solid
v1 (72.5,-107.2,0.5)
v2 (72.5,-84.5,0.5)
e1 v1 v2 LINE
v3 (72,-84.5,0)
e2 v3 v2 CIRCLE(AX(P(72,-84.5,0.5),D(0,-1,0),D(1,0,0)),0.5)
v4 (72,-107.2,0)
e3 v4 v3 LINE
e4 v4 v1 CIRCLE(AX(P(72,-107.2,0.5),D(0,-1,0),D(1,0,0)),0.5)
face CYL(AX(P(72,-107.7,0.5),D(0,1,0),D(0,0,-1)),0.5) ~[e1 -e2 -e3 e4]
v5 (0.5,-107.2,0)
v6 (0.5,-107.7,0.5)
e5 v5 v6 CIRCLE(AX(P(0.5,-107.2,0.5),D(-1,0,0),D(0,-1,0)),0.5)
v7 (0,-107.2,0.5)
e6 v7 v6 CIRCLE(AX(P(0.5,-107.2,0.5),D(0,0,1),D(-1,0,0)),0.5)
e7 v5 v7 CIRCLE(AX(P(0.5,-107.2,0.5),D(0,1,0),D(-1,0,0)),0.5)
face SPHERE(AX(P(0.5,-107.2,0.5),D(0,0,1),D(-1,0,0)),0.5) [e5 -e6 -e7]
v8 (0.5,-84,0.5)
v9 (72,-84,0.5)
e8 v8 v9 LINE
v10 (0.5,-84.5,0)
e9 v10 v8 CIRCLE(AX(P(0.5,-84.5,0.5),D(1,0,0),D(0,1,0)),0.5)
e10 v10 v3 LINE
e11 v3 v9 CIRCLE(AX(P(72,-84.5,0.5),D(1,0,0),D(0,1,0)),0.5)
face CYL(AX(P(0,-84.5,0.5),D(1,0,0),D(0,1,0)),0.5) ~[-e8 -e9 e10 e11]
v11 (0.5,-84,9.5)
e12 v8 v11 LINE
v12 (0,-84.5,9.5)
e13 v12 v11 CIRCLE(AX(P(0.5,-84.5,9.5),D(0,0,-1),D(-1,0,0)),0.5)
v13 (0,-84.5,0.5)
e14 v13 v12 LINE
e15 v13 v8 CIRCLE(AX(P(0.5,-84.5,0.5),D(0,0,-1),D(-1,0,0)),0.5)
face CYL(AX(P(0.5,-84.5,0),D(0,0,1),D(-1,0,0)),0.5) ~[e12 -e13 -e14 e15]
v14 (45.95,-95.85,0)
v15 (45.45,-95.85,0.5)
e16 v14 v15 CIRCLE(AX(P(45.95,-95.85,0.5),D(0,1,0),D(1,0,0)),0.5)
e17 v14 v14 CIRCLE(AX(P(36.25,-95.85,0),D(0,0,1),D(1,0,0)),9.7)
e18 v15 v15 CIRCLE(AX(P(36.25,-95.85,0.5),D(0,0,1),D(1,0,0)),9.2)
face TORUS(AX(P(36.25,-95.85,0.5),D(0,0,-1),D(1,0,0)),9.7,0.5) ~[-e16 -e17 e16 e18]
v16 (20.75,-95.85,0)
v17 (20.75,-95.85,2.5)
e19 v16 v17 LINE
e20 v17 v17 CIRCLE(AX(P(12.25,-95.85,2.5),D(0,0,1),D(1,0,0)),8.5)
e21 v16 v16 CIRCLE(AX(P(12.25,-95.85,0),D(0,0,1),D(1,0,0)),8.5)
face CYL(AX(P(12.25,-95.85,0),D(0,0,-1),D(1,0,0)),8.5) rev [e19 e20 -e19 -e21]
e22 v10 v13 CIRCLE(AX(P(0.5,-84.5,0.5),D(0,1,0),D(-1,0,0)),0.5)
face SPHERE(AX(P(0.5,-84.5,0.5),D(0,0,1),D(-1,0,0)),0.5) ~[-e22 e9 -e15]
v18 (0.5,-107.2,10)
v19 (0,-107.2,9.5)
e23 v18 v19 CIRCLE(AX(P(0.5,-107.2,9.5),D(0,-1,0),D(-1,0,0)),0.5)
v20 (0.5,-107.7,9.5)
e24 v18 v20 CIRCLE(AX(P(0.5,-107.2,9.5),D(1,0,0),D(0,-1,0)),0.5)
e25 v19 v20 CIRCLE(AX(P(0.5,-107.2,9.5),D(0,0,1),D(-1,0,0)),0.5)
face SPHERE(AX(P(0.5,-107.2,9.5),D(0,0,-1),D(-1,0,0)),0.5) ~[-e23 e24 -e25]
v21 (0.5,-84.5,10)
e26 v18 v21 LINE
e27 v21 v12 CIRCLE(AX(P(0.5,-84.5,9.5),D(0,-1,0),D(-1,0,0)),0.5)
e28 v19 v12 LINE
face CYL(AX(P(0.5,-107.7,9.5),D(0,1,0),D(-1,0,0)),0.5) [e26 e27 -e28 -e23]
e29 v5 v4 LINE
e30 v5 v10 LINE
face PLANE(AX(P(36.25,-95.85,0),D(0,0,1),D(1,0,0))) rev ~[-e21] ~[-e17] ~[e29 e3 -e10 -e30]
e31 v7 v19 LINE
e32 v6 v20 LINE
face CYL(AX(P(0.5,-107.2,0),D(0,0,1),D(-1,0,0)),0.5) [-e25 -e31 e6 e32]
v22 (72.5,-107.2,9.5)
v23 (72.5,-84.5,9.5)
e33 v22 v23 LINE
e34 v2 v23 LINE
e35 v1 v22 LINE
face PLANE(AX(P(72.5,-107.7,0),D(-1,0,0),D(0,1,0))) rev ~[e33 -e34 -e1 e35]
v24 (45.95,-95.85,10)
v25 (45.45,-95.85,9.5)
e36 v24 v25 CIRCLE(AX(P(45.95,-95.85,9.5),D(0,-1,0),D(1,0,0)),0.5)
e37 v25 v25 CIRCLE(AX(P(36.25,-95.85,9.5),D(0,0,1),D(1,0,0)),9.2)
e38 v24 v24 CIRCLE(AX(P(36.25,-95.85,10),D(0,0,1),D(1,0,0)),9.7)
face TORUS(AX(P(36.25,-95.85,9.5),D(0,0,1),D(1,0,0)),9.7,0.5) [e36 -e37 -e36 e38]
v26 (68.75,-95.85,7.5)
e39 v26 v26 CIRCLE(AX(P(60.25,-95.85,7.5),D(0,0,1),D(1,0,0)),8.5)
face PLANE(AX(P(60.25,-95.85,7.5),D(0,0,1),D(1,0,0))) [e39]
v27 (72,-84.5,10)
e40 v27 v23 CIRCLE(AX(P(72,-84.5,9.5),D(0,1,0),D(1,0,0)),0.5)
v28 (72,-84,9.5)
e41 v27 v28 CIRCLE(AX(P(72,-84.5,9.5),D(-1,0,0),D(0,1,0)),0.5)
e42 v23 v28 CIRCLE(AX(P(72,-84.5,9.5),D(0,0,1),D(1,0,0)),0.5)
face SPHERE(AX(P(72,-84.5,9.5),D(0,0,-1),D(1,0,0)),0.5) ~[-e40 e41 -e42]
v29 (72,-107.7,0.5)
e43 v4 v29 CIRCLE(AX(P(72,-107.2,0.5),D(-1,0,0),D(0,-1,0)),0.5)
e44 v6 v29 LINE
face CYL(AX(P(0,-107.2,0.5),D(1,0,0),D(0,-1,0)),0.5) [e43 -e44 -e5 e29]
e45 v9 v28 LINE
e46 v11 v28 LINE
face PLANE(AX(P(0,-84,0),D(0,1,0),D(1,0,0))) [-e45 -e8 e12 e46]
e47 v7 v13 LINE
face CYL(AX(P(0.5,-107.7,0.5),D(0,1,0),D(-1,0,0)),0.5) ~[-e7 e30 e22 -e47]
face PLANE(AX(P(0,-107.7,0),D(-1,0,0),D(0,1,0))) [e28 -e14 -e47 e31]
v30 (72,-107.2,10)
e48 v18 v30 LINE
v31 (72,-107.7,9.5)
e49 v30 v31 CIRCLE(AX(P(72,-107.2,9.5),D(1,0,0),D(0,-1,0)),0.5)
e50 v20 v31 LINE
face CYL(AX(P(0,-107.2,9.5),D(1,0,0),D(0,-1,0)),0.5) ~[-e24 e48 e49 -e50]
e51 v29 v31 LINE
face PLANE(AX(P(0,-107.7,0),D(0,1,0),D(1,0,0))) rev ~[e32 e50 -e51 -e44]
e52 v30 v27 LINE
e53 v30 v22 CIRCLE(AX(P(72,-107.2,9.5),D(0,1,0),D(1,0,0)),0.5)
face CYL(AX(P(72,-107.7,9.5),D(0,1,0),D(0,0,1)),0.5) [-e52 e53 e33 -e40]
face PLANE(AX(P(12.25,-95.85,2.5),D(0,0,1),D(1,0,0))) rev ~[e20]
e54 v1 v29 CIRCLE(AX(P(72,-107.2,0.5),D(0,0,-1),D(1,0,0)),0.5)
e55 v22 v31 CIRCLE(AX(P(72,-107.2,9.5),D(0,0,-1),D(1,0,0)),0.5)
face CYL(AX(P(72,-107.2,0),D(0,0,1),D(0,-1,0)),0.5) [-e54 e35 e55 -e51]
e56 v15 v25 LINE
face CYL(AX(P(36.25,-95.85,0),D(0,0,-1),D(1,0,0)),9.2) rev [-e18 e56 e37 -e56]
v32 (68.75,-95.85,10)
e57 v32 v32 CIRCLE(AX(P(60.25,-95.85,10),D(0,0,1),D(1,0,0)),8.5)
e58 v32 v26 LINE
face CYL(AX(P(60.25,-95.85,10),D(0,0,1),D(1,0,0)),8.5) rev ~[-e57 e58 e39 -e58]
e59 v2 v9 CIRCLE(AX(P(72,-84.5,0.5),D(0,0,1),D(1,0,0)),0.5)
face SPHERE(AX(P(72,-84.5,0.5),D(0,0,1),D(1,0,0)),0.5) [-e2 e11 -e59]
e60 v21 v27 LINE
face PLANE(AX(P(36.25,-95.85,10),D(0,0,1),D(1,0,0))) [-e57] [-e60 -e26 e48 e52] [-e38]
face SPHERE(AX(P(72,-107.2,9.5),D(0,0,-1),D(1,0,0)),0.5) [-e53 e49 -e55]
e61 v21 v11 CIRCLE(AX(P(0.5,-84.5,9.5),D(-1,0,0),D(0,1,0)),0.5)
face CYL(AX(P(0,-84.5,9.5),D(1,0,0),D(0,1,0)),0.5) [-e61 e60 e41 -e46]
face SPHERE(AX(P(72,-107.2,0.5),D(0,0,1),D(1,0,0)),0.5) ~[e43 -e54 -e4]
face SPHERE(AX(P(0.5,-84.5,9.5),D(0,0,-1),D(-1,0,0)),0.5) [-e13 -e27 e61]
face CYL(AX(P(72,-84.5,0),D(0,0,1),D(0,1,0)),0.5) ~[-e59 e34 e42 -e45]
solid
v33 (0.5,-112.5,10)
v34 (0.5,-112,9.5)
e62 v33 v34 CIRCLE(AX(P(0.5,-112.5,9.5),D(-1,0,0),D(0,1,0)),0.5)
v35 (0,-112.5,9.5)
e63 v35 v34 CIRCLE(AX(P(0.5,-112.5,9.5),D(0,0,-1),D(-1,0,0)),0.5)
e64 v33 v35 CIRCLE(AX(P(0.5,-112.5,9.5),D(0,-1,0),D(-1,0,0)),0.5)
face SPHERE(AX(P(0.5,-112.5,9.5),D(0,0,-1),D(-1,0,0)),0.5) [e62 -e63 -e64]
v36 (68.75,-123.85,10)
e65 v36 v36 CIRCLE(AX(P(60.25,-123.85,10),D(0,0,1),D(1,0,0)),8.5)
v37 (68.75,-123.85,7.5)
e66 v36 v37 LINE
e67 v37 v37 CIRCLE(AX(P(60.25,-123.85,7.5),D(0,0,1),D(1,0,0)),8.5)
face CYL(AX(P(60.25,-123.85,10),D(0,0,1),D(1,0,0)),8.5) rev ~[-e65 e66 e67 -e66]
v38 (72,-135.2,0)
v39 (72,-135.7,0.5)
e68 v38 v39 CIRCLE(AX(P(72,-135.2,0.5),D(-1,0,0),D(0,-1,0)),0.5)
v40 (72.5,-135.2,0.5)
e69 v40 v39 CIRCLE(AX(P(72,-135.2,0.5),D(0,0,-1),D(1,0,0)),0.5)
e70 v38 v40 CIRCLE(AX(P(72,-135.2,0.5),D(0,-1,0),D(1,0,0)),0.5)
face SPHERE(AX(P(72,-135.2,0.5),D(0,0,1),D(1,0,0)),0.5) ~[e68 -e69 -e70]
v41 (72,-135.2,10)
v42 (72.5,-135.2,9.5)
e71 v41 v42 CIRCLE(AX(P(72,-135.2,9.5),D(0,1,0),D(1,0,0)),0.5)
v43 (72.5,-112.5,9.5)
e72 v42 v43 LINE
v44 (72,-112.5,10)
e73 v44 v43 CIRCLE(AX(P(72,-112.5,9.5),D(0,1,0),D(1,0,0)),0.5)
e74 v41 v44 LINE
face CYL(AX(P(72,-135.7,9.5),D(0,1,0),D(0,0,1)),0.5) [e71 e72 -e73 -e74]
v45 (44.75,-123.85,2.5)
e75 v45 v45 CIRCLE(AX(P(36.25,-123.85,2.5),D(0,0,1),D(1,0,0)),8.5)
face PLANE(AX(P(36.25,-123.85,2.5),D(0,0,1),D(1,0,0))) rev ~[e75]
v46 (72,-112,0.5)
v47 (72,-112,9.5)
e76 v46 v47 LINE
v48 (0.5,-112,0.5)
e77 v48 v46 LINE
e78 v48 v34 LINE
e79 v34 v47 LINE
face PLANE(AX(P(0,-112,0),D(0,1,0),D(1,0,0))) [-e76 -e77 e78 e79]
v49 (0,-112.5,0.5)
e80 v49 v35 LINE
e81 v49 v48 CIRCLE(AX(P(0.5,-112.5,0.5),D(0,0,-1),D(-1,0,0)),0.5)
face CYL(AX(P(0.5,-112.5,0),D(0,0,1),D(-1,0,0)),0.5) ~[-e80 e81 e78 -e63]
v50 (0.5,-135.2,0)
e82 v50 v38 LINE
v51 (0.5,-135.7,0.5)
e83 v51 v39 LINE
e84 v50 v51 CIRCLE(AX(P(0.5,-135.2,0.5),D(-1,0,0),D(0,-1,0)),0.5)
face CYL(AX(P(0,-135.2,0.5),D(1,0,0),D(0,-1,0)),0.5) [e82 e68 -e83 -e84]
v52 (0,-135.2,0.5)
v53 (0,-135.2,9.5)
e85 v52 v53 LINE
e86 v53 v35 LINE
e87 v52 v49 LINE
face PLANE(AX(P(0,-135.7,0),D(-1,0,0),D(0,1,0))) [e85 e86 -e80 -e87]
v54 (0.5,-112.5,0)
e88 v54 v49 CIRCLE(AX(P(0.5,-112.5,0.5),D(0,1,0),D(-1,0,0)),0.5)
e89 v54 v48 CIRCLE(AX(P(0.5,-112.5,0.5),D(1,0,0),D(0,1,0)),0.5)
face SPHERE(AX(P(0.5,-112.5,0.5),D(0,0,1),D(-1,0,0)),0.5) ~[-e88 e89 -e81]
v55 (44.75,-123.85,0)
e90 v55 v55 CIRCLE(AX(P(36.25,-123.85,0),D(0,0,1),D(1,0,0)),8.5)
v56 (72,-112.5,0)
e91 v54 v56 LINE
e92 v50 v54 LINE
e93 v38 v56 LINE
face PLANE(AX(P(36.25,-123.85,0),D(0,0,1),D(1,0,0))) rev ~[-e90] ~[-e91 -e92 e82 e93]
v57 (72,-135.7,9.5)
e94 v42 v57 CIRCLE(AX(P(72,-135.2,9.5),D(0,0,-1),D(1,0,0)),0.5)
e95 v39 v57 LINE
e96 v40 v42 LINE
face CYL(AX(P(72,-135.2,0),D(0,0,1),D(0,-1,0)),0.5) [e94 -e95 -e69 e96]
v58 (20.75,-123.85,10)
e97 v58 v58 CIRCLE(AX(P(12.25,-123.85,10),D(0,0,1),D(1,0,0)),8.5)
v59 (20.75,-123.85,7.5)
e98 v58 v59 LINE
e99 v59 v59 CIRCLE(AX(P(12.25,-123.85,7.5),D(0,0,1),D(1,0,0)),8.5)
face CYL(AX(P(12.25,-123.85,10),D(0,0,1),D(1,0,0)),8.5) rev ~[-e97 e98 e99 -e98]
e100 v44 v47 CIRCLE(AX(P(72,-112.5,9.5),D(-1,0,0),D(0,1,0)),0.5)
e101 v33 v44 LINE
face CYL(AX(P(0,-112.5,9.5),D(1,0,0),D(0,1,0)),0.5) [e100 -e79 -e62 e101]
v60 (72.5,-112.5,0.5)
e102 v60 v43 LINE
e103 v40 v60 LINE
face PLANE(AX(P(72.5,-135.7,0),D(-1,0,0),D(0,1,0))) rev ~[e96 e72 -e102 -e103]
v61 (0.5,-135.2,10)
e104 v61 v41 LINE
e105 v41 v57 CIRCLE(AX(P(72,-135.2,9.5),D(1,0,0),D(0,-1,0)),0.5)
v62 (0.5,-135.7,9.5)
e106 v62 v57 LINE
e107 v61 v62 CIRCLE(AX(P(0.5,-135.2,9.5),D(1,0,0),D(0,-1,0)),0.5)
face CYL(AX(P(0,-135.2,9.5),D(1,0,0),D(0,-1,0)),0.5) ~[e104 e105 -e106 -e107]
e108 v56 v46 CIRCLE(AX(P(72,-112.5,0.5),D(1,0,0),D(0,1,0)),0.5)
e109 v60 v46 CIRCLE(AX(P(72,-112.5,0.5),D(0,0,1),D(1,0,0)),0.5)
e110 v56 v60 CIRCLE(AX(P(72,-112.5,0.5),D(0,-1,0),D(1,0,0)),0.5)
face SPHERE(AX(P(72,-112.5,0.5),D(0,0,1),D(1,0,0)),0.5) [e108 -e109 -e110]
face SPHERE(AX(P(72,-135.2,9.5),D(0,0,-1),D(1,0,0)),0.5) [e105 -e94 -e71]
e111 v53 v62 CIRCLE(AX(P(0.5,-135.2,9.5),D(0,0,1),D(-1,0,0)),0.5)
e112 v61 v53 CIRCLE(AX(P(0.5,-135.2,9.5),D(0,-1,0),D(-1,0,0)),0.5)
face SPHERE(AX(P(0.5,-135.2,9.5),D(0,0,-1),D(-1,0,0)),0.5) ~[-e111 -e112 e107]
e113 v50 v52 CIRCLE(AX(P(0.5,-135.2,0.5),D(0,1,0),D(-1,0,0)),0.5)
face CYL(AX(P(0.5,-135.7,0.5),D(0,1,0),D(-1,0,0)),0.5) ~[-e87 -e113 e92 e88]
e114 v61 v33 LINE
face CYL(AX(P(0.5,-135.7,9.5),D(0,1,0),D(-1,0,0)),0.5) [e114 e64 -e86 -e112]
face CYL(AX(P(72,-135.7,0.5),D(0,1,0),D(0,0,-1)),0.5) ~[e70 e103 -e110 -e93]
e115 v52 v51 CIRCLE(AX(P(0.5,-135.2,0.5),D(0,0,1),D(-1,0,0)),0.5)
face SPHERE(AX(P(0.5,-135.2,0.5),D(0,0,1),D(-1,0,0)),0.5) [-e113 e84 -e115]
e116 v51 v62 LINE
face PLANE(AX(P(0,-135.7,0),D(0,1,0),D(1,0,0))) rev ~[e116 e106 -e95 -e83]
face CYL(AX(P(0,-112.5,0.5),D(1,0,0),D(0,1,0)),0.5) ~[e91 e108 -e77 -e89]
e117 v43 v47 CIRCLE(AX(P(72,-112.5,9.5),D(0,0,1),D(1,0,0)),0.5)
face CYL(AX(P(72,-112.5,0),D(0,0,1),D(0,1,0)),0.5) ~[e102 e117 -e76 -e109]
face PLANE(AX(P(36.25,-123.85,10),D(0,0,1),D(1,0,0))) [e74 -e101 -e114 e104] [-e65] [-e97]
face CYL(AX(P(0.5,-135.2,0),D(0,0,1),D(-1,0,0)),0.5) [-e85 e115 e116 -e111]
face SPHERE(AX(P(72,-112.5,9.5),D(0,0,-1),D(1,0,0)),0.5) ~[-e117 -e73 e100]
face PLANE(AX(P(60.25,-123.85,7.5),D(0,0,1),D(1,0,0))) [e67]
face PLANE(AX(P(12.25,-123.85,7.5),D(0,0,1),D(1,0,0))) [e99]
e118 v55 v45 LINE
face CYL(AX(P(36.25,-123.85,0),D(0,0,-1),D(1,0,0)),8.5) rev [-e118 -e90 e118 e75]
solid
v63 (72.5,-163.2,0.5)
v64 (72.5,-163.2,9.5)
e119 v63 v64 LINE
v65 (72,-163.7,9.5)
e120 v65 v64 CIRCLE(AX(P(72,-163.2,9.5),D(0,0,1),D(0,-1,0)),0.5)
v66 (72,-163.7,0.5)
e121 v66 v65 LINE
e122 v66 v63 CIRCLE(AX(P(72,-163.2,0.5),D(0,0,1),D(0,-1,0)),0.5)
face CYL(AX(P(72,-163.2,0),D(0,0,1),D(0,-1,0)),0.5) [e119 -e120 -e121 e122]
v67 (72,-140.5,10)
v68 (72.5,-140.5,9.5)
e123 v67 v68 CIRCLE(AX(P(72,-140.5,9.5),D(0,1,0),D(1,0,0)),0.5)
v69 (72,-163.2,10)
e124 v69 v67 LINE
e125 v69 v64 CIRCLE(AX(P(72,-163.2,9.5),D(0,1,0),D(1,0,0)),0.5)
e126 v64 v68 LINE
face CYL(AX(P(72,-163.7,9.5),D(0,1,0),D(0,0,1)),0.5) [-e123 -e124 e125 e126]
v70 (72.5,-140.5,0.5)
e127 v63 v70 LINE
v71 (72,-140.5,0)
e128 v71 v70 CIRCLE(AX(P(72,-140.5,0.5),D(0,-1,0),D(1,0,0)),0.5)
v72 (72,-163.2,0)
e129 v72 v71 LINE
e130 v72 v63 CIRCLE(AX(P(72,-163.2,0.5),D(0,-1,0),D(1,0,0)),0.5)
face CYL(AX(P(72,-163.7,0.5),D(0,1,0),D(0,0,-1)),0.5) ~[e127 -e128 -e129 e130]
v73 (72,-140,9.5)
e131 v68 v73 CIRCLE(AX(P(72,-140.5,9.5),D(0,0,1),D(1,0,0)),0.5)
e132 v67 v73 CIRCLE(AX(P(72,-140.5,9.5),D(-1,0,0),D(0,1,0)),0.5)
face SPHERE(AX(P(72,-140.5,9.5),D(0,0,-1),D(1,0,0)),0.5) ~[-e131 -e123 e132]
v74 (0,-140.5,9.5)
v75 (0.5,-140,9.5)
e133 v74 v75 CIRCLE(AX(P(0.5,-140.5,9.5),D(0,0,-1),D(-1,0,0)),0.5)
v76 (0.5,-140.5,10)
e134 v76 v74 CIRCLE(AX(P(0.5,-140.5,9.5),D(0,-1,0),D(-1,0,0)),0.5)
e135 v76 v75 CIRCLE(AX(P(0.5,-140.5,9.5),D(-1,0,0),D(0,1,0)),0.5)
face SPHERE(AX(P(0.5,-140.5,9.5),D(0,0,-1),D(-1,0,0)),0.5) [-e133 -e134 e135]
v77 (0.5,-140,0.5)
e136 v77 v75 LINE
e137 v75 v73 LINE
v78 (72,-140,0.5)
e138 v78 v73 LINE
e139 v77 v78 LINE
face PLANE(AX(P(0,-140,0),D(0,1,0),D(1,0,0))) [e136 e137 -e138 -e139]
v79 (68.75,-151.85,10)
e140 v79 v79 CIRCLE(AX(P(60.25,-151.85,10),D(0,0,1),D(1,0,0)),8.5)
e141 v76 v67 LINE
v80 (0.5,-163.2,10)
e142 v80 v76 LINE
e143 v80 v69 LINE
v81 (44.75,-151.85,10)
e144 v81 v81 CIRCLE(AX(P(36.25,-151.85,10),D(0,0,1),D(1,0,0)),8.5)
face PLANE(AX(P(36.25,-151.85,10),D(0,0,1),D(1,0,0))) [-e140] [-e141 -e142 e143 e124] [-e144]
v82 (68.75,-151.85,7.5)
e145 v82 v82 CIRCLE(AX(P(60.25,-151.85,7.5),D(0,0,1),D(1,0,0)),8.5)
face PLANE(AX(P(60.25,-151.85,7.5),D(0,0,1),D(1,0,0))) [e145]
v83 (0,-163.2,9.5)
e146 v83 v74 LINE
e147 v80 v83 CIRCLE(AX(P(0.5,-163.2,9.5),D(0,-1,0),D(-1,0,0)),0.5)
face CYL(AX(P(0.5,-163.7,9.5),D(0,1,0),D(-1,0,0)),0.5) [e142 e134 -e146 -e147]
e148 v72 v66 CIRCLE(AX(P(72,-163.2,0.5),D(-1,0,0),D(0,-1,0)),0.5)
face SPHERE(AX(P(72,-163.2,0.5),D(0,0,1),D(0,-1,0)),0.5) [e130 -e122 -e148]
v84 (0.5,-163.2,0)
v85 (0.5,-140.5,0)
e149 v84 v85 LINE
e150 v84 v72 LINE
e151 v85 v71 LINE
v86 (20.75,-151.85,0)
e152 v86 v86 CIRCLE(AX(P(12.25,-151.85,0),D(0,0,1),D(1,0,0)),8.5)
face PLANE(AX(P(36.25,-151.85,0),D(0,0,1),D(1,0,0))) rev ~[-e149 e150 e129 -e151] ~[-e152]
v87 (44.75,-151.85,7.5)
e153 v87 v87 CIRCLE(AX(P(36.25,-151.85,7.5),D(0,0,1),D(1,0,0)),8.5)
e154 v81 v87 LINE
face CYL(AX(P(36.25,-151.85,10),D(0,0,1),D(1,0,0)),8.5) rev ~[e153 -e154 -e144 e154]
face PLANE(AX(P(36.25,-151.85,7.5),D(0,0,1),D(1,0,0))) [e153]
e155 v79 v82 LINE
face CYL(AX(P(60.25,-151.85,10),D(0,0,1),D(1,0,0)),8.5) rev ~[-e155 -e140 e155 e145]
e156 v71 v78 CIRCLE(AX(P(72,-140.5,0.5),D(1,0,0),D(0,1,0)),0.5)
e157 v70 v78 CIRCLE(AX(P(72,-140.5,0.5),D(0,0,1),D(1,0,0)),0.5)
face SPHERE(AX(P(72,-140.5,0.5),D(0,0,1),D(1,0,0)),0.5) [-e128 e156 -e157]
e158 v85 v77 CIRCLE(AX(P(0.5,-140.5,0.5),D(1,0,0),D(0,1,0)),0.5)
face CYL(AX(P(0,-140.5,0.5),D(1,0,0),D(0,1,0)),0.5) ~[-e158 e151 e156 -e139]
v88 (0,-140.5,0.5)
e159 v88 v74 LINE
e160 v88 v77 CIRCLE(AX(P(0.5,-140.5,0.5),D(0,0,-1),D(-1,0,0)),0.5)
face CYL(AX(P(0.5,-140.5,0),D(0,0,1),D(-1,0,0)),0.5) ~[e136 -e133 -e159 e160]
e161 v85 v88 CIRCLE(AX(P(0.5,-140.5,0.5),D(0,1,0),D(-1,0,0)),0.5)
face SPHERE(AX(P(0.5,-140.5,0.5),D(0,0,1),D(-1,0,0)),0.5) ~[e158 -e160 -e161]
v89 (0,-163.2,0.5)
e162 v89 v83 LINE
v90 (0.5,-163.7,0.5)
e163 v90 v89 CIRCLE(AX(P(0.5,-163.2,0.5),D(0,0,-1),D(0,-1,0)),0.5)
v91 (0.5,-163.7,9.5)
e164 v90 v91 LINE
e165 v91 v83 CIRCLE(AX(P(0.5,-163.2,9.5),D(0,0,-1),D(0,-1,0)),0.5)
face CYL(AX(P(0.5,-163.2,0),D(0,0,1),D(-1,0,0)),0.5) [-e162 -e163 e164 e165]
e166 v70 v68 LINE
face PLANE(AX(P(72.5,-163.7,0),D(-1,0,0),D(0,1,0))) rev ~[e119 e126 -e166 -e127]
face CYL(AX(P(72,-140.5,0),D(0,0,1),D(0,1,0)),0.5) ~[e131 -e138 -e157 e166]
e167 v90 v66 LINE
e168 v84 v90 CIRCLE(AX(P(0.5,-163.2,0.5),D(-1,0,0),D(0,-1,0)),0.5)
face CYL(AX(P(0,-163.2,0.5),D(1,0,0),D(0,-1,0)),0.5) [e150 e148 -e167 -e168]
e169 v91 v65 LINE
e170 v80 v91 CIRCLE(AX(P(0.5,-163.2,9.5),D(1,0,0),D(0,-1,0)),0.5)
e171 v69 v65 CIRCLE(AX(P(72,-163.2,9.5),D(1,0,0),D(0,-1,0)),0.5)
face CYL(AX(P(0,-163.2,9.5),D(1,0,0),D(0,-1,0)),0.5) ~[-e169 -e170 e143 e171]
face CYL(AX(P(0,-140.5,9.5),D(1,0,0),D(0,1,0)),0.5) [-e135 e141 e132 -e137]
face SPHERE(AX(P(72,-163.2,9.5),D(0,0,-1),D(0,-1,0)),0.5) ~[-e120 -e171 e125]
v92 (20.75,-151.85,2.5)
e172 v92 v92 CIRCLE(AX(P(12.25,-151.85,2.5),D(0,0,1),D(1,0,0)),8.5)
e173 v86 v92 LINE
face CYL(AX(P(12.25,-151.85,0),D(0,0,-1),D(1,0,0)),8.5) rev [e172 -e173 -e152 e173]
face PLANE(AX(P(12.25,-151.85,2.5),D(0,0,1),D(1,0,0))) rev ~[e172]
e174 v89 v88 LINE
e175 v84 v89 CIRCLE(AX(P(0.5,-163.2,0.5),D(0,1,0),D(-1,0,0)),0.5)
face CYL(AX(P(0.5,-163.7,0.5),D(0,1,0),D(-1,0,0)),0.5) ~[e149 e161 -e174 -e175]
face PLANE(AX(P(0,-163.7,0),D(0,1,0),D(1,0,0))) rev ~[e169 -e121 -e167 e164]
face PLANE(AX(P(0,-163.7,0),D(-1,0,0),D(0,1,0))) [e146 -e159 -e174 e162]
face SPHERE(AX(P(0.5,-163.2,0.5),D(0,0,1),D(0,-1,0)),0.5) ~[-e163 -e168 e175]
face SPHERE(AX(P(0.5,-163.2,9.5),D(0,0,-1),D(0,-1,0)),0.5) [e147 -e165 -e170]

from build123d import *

# Parameters (mm, degrees)
F0_W     = 72.5
F0_H     = 23.7
F0_R     = 9.2
F1_DEPTH = 10
F0_R_2   = 8.5
F2_DEPTH = 2.5
F3_R     = 8.5
F4_DEPTH = 2.5
F5_R     = 0.5
F5_2_R   = 0.5
F5_3_R   = 0.5
F5_4_R   = 0.5
F5_5_R   = 0.5
F5_6_R   = 0.5
F6_R     = 0.5
F6_2_R   = 0.5
F6_3_R   = 0.5
F6_4_R   = 0.5


with BuildPart() as f1:
    # F0 (on Top) → F1 (new body)
    with BuildSketch(Plane.XY):
        with Locations((36.25, -11.85)):
            Rectangle(F0_W, F0_H)
        with Locations((12.25, -11.85)):
            Circle(F0_R, mode=Mode.SUBTRACT)
        with Locations((36.25, -11.85)):
            Circle(F0_R, mode=Mode.SUBTRACT)
    extrude(amount=F1_DEPTH)


with BuildPart() as f1b:
    # F0 (on Top) → F1, piece 2 (new body)
    with BuildSketch(Plane.XY):
        with Locations((36.25, -39.85)):
            Rectangle(F0_W, F0_H)
        with Locations((12.25, -39.85)):
            Circle(F0_R, mode=Mode.SUBTRACT)
        with Locations((36.25, -39.85)):
            Circle(F0_R_2, mode=Mode.SUBTRACT)
        with Locations((36.25, -39.85)):
            Circle(F0_R_2)
    extrude(amount=F1_DEPTH)


with BuildPart() as f1c:
    # F0 (on Top) → F1, piece 3 (new body)
    with BuildSketch(Plane.XY):
        with Locations((36.25, -67.85)):
            Rectangle(F0_W, F0_H)
        with Locations((12.25, -67.85)):
            Circle(F0_R, mode=Mode.SUBTRACT)
        with Locations((36.25, -67.85)):
            Circle(F0_R_2, mode=Mode.SUBTRACT)
        with Locations((36.25, -67.85)):
            Circle(F0_R_2)
    extrude(amount=F1_DEPTH)


with BuildPart() as f1d:
    # F0 (on Top) → F1, piece 4 (new body)
    with BuildSketch(Plane.XY):
        with Locations((36.25, -95.85)):
            Rectangle(F0_W, F0_H)
        with Locations((12.25, -95.85)):
            Circle(F0_R_2, mode=Mode.SUBTRACT)
        with Locations((36.25, -95.85)):
            Circle(F0_R, mode=Mode.SUBTRACT)
        with Locations((12.25, -95.85)):
            Circle(F0_R_2)
    extrude(amount=F1_DEPTH)


with BuildPart() as f1e:
    # F0 (on Top) → F1, piece 5 (new body)
    with BuildSketch(Plane.XY):
        with Locations((36.25, -123.85)):
            Rectangle(F0_W, F0_H)
        with Locations((36.25, -123.85)):
            Circle(F0_R_2, mode=Mode.SUBTRACT)
        with Locations((36.25, -123.85)):
            Circle(F0_R_2)
    extrude(amount=F1_DEPTH)


with BuildPart() as f1f:
    # F0 (on Top) → F1, piece 6 (new body)
    with BuildSketch(Plane.XY):
        with Locations((36.25, -151.85)):
            Rectangle(F0_W, F0_H)
        with Locations((12.25, -151.85)):
            Circle(F0_R_2, mode=Mode.SUBTRACT)
        with Locations((12.25, -151.85)):
            Circle(F0_R_2)
    extrude(amount=F1_DEPTH)


with BuildPart() as f2_tool:
    # F0 (on Top) → F2 (new body)
    with BuildSketch(Plane.XY):
        with Locations((12.25, -151.85)):
            Circle(F0_R_2)
        with Locations((36.25, -123.85)):
            Circle(F0_R_2)
        with Locations((12.25, -95.85)):
            Circle(F0_R_2)
        with Locations((36.25, -67.85)):
            Circle(F0_R_2)
        with Locations((36.25, -39.85)):
            Circle(F0_R_2)
    extrude(amount=F2_DEPTH)


with BuildPart() as f1b_1:
    add(f1b.part)

    # F2: cut by f2_tool
    add(f2_tool.part, mode=Mode.SUBTRACT)


with BuildPart() as f1c_1:
    add(f1c.part)

    # F2: cut by f2_tool
    add(f2_tool.part, mode=Mode.SUBTRACT)


with BuildPart() as f1d_1:
    add(f1d.part)

    # F2: cut by f2_tool
    add(f2_tool.part, mode=Mode.SUBTRACT)


with BuildPart() as f1e_1:
    add(f1e.part)

    # F2: cut by f2_tool
    add(f2_tool.part, mode=Mode.SUBTRACT)


with BuildPart() as f1f_1:
    add(f1f.part)

    # F2: cut by f2_tool
    add(f2_tool.part, mode=Mode.SUBTRACT)


with BuildPart() as f4_tool:
    # F3 (on face) → F4 (new body)
    with BuildSketch(Plane.XY.offset(10)):
        with Locations((12.25, -123.85)):
            Circle(F3_R)
        with Locations((36.25, -151.85)):
            Circle(F3_R)
        with Locations((60.25, -151.85)):
            Circle(F3_R)
        with Locations((60.25, -123.85)):
            Circle(F3_R)
        with Locations((60.25, -95.85)):
            Circle(F3_R)
        with Locations((60.25, -67.85)):
            Circle(F3_R)
        with Locations((60.25, -39.85)):
            Circle(F3_R)
        with Locations((60.25, -11.85)):
            Circle(F3_R)
    extrude(amount=-F4_DEPTH)


with BuildPart() as f1_1:
    add(f1.part)

    # F4: cut by f4_tool
    add(f4_tool.part, mode=Mode.SUBTRACT)

    # F5#6
    f5_6_edges = [f1_1.edges().sort_by_distance(p)[0] for p in [
        (72.5, -23.7, 5),
        (72.5, 0, 5),
        (72.5, -11.85, 0),
        (72.5, -11.85, 10),
        (0, 0, 5),
        (36.25, 0, 0),
        (36.25, 0, 10),
        (0, -23.7, 5),
        (0, -11.85, 0),
        (0, -11.85, 10),
        (36.25, -23.7, 0),
        (36.25, -23.7, 10),
    ]]
    fillet(f5_6_edges, radius=F5_6_R)

    # F6#2
    f6_2_edges = [f1_1.edges().sort_by_distance(p)[0] for p in [
        (21.45, -11.85, 5),
        (3.05, -11.85, 0),
        (3.05, -11.85, 10),
        (45.45, -11.85, 5),
        (27.05, -11.85, 0),
        (27.05, -11.85, 10),
    ]]
    fillet(f6_2_edges, radius=F6_2_R)


with BuildPart() as f1b_2:
    add(f1b_1.part)

    # F4: cut by f4_tool
    add(f4_tool.part, mode=Mode.SUBTRACT)

    # F5#5
    f5_5_edges = [f1b_2.edges().sort_by_distance(p)[0] for p in [
        (72.5, -51.7, 5),
        (72.5, -28, 5),
        (72.5, -39.85, 0),
        (72.5, -39.85, 10),
        (0, -28, 5),
        (0, -51.7, 5),
        (0, -39.85, 0),
        (0, -39.85, 10),
        (36.25, -28, 0),
        (36.25, -28, 10),
        (36.25, -51.7, 0),
        (36.25, -51.7, 10),
    ]]
    fillet(f5_5_edges, radius=F5_5_R)

    # F6
    f6_edges = [f1b_2.edges().sort_by_distance(p)[0] for p in [
        (21.45, -39.85, 5),
        (3.05, -39.85, 0),
        (3.05, -39.85, 10),
    ]]
    fillet(f6_edges, radius=F6_R)


with BuildPart() as f1c_2:
    add(f1c_1.part)

    # F4: cut by f4_tool
    add(f4_tool.part, mode=Mode.SUBTRACT)

    # F5#4
    f5_4_edges = [f1c_2.edges().sort_by_distance(p)[0] for p in [
        (72.5, -79.7, 5),
        (72.5, -56, 5),
        (72.5, -67.85, 0),
        (72.5, -67.85, 10),
        (0, -56, 5),
        (0, -79.7, 5),
        (0, -67.85, 0),
        (0, -67.85, 10),
        (36.25, -56, 0),
        (36.25, -56, 10),
        (36.25, -79.7, 0),
        (36.25, -79.7, 10),
    ]]
    fillet(f5_4_edges, radius=F5_4_R)

    # F6#3
    f6_3_edges = [f1c_2.edges().sort_by_distance(p)[0] for p in [
        (21.45, -67.85, 5),
        (3.05, -67.85, 0),
        (3.05, -67.85, 10),
    ]]
    fillet(f6_3_edges, radius=F6_3_R)


with BuildPart() as f1d_2:
    add(f1d_1.part)

    # F4: cut by f4_tool
    add(f4_tool.part, mode=Mode.SUBTRACT)

    # F5#3
    f5_3_edges = [f1d_2.edges().sort_by_distance(p)[0] for p in [
        (72.5, -107.7, 5),
        (72.5, -84, 5),
        (72.5, -95.85, 0),
        (72.5, -95.85, 10),
        (0, -84, 5),
        (0, -107.7, 5),
        (0, -95.85, 0),
        (0, -95.85, 10),
        (36.25, -84, 0),
        (36.25, -84, 10),
        (36.25, -107.7, 0),
        (36.25, -107.7, 10),
    ]]
    fillet(f5_3_edges, radius=F5_3_R)

    # F6#4
    f6_4_edges = [f1d_2.edges().sort_by_distance(p)[0] for p in [
        (45.45, -95.85, 5),
        (27.05, -95.85, 0),
        (27.05, -95.85, 10),
    ]]
    fillet(f6_4_edges, radius=F6_4_R)


with BuildPart() as f1e_2:
    add(f1e_1.part)

    # F4: cut by f4_tool
    add(f4_tool.part, mode=Mode.SUBTRACT)

    # F5#2
    f5_2_edges = [f1e_2.edges().sort_by_distance(p)[0] for p in [
        (72.5, -135.7, 5),
        (72.5, -112, 5),
        (72.5, -123.85, 0),
        (72.5, -123.85, 10),
        (0, -112, 5),
        (0, -135.7, 5),
        (0, -123.85, 0),
        (0, -123.85, 10),
        (36.25, -112, 0),
        (36.25, -112, 10),
        (36.25, -135.7, 0),
        (36.25, -135.7, 10),
    ]]
    fillet(f5_2_edges, radius=F5_2_R)


with BuildPart() as f1f_2:
    add(f1f_1.part)

    # F4: cut by f4_tool
    add(f4_tool.part, mode=Mode.SUBTRACT)

    # F5
    f5_edges = [f1f_2.edges().sort_by_distance(p)[0] for p in [
        (0, -163.7, 5),
        (72.5, -163.7, 5),
        (36.25, -163.7, 0),
        (36.25, -163.7, 10),
        (72.5, -140, 5),
        (72.5, -151.85, 0),
        (72.5, -151.85, 10),
        (0, -140, 5),
        (0, -151.85, 0),
        (0, -151.85, 10),
        (36.25, -140, 0),
        (36.25, -140, 10),
    ]]
    fillet(f5_edges, radius=F5_R)


solid = Compound([f1d_2.part, f1e_2.part, f1f_2.part])
